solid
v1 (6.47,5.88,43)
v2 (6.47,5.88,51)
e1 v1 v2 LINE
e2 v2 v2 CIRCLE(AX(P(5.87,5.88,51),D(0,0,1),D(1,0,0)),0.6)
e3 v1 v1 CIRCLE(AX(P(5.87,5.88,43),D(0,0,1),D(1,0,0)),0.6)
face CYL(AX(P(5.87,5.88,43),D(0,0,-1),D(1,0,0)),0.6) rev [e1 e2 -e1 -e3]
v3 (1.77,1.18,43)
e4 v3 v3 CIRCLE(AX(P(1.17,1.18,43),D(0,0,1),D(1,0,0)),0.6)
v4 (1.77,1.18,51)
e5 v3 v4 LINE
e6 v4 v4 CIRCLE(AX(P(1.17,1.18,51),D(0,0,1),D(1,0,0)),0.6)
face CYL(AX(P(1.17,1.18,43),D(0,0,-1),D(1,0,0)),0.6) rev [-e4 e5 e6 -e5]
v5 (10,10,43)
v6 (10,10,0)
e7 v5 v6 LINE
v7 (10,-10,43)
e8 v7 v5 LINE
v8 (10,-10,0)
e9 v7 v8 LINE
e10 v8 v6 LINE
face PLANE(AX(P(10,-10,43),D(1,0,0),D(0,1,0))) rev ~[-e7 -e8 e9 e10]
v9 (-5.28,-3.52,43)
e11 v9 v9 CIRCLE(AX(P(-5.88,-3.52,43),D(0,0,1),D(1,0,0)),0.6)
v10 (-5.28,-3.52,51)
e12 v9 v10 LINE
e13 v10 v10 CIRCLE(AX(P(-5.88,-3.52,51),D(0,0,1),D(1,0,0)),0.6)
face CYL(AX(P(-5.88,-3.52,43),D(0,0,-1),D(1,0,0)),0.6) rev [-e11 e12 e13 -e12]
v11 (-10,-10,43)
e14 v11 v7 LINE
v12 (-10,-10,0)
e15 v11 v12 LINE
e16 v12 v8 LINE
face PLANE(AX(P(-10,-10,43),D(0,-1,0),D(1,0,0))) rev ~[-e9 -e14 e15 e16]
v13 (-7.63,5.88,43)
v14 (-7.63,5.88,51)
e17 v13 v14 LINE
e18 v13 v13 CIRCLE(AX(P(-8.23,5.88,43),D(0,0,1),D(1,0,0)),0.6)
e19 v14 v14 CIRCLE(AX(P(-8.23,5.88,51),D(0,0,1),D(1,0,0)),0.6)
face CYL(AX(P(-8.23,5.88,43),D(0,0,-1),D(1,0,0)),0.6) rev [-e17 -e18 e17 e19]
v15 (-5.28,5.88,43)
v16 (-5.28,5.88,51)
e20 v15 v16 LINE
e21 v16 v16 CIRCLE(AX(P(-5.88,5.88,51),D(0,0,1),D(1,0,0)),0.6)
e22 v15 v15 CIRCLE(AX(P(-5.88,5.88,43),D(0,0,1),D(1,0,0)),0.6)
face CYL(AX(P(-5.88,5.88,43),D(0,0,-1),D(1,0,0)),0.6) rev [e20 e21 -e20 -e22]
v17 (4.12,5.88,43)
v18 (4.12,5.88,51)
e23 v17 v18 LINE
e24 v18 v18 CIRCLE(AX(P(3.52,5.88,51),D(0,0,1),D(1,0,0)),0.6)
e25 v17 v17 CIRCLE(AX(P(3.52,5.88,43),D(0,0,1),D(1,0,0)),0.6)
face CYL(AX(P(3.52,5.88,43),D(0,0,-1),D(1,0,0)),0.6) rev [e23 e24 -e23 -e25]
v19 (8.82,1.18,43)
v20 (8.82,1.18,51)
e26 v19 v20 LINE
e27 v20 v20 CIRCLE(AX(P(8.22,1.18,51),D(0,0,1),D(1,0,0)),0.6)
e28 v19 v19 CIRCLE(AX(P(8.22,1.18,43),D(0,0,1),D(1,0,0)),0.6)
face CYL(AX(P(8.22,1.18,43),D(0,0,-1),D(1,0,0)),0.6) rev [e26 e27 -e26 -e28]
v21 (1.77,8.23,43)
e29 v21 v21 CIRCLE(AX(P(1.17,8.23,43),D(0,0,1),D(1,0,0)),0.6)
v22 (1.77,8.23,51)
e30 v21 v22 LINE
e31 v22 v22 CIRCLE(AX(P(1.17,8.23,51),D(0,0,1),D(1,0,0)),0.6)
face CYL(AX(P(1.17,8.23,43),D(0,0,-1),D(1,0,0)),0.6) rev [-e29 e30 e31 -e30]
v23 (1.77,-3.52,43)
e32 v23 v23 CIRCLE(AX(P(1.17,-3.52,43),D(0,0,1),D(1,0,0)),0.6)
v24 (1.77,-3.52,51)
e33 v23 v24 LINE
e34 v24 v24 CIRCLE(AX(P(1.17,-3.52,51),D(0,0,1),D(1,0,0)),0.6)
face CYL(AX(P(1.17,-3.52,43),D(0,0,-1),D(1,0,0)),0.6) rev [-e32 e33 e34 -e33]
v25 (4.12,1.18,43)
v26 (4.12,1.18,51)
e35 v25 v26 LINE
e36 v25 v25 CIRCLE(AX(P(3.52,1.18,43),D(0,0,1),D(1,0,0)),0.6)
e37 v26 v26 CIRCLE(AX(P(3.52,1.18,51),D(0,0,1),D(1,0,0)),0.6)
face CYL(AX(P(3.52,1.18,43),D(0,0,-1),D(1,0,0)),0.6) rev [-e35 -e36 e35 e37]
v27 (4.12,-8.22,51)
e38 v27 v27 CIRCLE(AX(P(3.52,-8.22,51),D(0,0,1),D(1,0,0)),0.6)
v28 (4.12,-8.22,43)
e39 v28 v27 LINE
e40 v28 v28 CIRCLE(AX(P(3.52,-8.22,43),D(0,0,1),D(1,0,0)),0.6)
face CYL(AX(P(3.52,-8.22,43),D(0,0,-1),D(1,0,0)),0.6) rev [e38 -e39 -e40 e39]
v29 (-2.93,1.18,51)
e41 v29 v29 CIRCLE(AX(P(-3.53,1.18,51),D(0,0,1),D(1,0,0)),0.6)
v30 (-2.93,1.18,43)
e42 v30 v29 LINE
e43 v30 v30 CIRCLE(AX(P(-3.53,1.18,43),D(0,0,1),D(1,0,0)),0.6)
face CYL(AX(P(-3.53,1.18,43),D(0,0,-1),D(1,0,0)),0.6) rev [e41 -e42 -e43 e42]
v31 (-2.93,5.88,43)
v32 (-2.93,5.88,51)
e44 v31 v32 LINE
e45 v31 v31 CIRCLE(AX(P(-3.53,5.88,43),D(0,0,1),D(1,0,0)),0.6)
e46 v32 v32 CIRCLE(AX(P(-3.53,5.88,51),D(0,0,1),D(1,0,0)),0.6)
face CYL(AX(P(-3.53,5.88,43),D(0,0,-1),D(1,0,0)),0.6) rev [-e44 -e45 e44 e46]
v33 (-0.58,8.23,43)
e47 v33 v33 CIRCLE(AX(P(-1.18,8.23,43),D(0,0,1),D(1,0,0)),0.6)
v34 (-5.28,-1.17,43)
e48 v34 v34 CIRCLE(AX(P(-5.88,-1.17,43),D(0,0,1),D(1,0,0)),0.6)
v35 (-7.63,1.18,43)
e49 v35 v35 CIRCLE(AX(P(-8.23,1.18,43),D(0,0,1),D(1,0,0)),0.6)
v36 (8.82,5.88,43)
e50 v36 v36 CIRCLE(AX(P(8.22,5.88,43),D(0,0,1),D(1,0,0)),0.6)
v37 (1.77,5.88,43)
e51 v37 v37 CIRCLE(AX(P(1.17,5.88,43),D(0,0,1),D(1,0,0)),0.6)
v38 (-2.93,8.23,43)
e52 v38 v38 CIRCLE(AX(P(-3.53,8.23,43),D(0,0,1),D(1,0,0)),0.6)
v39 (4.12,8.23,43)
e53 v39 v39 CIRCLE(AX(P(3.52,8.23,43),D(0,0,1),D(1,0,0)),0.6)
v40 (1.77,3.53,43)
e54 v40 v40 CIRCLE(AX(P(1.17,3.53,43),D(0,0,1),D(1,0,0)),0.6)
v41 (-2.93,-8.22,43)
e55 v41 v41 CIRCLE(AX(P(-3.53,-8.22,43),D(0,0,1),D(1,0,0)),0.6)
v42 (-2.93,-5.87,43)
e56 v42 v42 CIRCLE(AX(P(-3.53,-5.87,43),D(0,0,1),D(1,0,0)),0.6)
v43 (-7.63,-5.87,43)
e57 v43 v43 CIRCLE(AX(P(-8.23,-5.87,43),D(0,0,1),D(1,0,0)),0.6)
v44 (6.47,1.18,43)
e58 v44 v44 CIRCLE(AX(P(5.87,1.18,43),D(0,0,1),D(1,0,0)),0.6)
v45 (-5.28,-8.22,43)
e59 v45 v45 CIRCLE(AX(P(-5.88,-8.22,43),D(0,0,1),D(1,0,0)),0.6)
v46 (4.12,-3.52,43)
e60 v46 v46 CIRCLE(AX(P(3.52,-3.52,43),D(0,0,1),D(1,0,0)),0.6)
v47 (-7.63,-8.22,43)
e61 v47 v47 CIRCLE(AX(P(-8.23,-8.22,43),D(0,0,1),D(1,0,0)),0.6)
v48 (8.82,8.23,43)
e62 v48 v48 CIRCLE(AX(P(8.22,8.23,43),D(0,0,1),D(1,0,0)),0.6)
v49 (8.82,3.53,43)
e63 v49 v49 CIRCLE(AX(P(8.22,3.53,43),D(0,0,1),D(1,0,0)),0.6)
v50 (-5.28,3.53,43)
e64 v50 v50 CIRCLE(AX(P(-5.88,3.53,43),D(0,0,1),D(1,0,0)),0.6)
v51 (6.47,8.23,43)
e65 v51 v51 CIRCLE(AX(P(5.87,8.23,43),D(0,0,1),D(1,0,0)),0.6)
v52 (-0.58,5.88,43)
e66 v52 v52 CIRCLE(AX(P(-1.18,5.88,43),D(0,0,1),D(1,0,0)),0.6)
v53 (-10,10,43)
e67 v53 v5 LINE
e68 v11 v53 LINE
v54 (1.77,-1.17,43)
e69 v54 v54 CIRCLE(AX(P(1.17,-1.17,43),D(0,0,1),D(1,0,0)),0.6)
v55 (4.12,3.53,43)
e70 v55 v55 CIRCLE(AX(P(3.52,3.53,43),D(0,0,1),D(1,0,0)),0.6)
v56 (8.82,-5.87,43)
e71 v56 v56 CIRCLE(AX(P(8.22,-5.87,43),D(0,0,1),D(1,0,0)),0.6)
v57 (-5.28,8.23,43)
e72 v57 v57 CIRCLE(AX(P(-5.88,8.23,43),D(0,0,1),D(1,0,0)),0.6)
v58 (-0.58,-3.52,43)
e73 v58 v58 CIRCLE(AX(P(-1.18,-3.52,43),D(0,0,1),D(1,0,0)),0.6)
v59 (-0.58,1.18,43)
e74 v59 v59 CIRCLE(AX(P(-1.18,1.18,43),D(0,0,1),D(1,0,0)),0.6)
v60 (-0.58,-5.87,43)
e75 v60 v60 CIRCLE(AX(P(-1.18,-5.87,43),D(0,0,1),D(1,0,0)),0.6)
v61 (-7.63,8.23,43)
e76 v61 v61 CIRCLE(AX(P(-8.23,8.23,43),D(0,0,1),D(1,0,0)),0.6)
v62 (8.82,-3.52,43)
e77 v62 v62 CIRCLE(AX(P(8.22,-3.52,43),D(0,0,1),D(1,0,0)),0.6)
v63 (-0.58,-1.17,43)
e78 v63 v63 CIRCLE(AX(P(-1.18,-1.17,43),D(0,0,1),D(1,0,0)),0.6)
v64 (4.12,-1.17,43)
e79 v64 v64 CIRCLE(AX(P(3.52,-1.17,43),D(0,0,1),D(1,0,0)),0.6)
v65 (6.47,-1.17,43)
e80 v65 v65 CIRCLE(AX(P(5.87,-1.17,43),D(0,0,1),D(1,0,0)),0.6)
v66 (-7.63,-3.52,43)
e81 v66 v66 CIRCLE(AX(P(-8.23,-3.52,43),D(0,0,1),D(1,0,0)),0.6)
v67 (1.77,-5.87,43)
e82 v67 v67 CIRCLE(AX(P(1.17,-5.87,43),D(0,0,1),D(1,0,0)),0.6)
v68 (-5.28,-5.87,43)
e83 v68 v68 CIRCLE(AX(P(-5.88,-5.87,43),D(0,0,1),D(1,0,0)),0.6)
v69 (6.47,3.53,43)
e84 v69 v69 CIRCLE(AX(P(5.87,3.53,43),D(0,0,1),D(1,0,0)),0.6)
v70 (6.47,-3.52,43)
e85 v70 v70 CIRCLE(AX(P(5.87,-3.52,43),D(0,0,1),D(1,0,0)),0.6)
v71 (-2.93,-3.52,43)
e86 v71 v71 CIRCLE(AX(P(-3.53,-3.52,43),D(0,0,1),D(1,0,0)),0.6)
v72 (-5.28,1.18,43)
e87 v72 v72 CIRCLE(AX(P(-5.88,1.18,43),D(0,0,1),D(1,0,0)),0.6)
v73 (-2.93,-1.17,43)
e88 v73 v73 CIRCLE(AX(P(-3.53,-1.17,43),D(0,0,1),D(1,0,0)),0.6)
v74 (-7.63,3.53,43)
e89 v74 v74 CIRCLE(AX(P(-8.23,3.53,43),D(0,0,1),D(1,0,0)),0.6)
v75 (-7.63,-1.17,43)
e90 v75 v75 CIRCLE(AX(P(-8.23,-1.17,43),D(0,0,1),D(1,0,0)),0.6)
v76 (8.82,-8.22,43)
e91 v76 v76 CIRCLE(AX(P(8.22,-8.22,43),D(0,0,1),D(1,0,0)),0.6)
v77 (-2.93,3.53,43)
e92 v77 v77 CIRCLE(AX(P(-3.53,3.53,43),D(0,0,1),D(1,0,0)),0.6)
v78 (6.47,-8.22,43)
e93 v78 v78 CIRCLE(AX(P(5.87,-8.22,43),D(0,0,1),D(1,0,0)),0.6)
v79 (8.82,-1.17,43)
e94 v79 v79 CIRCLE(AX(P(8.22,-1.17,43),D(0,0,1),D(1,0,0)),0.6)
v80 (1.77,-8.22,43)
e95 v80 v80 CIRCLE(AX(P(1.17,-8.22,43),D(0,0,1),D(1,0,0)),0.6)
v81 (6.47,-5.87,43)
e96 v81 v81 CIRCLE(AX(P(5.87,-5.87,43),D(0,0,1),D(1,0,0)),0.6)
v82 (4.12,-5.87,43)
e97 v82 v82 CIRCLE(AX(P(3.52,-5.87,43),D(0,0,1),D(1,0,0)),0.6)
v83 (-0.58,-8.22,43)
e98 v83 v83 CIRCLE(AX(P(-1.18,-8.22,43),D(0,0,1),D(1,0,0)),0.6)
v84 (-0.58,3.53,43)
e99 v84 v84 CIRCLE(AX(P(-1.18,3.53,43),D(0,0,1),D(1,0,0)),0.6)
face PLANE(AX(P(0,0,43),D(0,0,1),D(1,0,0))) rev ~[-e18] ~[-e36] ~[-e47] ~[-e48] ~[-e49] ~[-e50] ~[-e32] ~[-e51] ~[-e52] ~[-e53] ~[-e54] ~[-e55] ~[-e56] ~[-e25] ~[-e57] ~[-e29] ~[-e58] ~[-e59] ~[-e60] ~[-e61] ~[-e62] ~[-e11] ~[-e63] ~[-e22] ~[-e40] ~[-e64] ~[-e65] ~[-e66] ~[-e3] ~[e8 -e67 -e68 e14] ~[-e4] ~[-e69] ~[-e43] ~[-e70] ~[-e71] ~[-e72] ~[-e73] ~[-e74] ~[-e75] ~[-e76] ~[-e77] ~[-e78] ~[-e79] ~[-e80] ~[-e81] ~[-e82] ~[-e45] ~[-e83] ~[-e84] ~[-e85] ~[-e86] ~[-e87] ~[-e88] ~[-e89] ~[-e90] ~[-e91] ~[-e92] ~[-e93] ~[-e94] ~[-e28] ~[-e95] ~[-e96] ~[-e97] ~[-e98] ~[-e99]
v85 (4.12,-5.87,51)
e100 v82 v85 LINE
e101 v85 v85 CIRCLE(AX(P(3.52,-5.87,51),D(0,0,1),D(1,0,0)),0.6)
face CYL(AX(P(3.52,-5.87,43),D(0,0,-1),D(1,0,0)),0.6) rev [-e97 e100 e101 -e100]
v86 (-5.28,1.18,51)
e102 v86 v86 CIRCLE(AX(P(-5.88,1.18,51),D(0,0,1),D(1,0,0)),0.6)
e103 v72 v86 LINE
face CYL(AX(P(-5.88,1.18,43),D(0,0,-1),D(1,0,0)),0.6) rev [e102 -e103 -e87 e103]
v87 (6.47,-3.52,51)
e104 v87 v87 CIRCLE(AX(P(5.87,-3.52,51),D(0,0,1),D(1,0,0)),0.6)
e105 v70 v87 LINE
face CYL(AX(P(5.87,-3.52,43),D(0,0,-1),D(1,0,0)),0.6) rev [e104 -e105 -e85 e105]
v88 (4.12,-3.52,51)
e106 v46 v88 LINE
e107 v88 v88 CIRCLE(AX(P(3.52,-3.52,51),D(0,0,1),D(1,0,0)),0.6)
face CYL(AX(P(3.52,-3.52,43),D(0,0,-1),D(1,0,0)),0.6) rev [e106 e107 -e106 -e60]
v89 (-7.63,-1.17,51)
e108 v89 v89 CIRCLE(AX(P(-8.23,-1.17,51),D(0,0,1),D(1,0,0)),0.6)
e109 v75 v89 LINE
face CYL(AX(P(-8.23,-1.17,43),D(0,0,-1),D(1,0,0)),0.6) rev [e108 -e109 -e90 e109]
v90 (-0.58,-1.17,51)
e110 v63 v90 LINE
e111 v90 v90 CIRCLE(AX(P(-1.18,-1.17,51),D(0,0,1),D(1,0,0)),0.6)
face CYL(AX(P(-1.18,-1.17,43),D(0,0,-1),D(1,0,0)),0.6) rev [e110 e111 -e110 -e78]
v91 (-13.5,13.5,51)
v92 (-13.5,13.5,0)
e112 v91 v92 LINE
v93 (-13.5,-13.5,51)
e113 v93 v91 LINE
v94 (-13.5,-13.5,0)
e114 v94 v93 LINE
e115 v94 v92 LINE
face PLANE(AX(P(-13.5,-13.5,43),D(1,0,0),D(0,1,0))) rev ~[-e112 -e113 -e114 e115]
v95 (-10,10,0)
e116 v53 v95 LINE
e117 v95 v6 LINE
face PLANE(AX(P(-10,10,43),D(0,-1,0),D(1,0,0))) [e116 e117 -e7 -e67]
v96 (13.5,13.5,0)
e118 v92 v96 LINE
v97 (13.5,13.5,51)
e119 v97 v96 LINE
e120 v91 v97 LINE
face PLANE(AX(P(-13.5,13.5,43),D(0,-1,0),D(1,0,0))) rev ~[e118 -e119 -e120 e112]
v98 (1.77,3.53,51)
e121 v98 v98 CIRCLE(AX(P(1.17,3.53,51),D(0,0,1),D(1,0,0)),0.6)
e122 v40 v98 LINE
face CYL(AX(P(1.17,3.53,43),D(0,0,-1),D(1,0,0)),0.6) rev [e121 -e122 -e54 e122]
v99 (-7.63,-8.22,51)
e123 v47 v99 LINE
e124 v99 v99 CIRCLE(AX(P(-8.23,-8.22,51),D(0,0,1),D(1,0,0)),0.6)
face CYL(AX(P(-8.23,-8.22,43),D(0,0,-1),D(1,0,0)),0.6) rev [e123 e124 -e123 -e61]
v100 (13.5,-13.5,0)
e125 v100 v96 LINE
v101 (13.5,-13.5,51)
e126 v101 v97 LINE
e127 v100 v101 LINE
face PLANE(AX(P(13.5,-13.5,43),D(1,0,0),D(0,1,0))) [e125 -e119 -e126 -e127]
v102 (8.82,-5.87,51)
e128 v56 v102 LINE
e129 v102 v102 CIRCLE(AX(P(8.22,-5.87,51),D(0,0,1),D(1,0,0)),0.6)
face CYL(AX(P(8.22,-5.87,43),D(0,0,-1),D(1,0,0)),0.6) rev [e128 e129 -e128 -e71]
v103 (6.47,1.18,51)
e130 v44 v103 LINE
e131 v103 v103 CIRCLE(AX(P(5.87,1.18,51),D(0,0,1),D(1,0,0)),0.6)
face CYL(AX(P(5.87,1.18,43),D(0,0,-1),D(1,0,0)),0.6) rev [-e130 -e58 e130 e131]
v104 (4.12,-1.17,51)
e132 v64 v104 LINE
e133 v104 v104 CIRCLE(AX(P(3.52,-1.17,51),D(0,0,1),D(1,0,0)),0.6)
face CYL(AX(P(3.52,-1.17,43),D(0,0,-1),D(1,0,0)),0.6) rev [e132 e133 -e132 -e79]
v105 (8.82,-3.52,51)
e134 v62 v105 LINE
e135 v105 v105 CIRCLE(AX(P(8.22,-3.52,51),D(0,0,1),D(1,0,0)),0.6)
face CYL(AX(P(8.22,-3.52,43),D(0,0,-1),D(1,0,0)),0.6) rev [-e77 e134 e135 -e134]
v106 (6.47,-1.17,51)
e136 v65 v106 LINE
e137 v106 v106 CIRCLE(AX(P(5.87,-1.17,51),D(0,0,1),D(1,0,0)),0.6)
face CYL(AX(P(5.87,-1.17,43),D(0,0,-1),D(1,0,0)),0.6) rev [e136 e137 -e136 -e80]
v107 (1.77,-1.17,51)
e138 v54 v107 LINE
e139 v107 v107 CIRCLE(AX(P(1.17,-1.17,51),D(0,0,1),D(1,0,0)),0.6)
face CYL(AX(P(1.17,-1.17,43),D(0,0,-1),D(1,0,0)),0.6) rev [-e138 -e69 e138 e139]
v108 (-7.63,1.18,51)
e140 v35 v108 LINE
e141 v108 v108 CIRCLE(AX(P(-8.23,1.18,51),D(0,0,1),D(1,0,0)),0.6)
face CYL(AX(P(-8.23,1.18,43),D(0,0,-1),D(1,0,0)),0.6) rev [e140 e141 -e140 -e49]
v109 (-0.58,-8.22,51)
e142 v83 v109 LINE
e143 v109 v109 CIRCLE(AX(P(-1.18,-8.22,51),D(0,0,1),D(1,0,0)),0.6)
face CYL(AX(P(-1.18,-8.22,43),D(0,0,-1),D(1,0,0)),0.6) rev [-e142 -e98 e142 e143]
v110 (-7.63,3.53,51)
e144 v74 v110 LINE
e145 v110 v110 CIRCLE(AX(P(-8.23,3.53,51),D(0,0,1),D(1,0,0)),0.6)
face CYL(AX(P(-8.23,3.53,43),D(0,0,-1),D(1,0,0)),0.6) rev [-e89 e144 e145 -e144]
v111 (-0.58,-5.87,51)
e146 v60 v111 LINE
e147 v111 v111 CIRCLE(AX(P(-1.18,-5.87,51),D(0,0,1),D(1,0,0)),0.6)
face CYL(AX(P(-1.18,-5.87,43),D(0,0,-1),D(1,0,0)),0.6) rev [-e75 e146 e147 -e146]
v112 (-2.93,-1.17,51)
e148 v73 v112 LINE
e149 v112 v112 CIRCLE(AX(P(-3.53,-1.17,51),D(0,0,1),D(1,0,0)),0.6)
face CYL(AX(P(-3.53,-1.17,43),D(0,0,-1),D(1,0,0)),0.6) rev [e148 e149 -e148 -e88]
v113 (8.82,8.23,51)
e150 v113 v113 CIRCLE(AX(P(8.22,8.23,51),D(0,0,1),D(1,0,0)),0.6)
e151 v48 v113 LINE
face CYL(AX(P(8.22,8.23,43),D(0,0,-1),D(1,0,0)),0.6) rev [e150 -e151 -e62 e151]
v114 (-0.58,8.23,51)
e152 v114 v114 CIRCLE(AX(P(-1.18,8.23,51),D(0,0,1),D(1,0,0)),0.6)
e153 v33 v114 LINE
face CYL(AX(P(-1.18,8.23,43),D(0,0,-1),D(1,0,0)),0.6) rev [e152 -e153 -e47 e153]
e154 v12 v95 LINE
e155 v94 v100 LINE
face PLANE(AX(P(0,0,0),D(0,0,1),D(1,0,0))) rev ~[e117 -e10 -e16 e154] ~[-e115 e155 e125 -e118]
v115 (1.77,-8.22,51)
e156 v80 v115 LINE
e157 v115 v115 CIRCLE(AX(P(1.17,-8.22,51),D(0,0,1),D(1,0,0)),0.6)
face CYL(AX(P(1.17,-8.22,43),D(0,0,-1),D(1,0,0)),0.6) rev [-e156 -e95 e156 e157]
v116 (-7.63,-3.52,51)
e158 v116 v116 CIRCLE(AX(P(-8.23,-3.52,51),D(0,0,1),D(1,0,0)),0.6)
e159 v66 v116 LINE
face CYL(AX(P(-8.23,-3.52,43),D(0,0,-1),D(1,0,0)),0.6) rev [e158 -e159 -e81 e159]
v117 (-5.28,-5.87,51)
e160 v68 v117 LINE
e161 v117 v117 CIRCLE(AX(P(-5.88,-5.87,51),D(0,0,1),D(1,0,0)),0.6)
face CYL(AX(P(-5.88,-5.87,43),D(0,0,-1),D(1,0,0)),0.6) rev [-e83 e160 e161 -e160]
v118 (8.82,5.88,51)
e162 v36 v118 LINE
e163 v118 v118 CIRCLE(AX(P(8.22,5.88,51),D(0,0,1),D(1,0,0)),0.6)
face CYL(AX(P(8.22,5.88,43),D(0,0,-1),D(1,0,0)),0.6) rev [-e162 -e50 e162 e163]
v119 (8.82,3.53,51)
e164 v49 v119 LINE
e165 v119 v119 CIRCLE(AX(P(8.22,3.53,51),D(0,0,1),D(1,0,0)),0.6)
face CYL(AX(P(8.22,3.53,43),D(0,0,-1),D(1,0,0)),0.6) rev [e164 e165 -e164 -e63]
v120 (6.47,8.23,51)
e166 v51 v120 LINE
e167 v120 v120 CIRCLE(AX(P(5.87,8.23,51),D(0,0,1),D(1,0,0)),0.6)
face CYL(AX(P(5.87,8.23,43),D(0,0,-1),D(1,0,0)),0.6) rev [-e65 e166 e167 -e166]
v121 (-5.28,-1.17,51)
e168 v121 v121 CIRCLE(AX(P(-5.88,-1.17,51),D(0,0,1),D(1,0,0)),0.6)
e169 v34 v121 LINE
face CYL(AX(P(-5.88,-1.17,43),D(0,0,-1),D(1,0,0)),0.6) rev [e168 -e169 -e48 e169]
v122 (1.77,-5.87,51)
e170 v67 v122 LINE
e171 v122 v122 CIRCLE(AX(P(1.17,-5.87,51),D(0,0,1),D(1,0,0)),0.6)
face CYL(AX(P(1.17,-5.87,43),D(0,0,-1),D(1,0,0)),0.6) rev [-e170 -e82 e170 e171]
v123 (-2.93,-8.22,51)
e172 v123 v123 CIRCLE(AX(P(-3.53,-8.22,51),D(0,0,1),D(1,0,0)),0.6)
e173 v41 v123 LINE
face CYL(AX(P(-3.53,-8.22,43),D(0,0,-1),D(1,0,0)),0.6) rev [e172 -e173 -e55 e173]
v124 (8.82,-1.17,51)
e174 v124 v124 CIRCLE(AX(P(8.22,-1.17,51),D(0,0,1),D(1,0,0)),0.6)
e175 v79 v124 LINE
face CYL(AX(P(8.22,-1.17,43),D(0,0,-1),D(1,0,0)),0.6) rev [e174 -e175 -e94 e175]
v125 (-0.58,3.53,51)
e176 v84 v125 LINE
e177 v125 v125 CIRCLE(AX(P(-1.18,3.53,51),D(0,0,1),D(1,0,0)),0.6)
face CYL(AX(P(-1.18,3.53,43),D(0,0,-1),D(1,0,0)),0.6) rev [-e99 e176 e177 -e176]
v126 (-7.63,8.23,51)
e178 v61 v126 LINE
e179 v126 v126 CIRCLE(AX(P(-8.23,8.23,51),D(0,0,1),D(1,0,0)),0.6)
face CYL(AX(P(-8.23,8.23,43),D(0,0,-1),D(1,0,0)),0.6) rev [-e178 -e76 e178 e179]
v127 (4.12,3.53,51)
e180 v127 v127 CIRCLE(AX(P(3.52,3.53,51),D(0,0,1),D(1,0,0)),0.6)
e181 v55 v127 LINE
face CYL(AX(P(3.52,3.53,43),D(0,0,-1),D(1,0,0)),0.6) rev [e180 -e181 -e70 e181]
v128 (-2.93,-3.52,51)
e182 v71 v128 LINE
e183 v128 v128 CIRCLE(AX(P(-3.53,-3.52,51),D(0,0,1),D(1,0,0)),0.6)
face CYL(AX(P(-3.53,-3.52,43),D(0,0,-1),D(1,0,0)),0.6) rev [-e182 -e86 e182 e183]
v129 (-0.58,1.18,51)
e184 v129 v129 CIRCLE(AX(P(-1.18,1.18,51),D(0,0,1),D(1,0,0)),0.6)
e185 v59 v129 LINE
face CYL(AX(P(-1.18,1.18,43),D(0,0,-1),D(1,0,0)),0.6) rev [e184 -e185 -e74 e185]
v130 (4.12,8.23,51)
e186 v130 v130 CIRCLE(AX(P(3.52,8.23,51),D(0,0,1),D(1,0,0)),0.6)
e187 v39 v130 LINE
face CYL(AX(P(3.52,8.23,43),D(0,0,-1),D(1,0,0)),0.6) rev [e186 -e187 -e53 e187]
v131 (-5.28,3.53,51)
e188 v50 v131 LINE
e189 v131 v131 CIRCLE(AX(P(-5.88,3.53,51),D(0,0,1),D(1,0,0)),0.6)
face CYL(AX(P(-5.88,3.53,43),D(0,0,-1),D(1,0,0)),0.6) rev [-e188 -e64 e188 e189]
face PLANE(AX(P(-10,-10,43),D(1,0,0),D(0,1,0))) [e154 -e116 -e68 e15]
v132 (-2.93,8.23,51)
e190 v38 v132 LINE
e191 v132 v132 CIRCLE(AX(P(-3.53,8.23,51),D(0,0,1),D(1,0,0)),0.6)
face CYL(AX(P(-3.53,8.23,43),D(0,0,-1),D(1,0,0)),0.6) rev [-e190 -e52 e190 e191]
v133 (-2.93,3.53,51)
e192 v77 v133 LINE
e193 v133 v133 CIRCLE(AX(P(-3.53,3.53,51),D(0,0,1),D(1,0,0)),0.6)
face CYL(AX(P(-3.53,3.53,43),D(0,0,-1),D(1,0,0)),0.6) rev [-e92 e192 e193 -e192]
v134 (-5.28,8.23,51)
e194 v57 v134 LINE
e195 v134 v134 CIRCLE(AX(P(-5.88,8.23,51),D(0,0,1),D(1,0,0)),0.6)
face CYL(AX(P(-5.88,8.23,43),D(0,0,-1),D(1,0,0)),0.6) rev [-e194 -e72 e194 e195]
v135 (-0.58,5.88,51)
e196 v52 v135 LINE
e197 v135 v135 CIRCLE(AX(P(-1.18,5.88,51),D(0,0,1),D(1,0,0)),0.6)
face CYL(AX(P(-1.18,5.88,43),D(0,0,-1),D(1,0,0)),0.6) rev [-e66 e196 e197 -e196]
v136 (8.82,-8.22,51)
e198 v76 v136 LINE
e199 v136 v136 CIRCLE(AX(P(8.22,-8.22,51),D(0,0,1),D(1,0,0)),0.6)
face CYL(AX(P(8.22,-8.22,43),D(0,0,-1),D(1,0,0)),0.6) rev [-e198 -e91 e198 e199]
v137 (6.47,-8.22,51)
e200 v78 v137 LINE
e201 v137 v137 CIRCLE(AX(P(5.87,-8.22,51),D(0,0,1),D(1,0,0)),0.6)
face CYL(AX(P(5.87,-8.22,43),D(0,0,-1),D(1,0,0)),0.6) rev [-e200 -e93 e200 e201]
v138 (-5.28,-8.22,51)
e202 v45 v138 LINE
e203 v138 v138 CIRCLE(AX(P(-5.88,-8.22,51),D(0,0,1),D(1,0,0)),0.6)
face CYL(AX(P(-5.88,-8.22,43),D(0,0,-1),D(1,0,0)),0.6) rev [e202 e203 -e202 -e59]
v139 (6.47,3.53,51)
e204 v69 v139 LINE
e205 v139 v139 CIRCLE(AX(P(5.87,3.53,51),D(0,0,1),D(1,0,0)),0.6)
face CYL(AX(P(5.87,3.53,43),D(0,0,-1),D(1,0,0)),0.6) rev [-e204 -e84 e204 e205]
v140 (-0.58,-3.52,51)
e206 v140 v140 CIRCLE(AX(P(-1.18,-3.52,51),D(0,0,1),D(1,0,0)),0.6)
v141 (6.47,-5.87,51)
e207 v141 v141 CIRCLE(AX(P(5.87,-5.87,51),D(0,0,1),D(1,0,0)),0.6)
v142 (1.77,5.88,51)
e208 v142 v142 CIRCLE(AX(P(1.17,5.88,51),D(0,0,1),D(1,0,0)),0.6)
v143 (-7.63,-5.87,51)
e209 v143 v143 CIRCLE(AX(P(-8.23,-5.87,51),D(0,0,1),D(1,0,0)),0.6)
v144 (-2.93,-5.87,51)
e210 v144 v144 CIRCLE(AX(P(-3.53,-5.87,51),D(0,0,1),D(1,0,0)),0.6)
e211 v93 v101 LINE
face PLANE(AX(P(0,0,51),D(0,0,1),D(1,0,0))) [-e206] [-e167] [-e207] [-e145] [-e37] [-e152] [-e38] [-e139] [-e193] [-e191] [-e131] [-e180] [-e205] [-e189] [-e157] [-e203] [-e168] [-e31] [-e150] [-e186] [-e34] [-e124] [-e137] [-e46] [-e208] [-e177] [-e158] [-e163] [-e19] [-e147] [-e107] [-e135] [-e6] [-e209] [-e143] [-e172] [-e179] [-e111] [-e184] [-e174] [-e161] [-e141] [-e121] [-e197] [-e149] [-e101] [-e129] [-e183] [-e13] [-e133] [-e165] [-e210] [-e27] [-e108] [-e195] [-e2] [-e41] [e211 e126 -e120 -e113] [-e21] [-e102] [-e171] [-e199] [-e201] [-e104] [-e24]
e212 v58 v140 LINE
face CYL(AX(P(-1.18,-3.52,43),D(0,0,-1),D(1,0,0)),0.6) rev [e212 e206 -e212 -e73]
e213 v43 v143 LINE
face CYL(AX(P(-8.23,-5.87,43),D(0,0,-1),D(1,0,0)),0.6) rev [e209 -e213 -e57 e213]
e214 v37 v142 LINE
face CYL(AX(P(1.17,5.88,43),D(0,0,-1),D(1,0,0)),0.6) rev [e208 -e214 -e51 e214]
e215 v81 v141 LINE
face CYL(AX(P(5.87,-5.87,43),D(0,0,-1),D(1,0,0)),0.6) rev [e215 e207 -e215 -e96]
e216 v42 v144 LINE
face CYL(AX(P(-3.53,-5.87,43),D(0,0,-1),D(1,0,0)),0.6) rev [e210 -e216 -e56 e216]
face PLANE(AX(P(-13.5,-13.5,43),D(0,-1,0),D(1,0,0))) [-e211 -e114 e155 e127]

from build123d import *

# Parameters (mm, degrees)
SKETCH2_W           = 27
SKETCH2_H           = 27
BOSS_EXTRUDE1_DEPTH = 8
SKETCH5_R           = 0.6
CUT_EXTRUDE2_DEPTH  = 8
SKETCH2_6_W         = 27
SKETCH2_6_H         = 27
SKETCH2_6_W_2       = 20
SKETCH2_6_H_2       = 20
BOSS_EXTRUDE2_DEPTH = 43


with BuildPart() as part:
    # Sketch2 → Boss-Extrude1 (new body)
    with BuildSketch(Plane.XY.offset(43)):
        Rectangle(SKETCH2_W, SKETCH2_H)
    extrude(amount=BOSS_EXTRUDE1_DEPTH)

    # Sketch5 → Cut-Extrude2 (cut)
    with BuildSketch(Plane.XY.offset(43)):
        with Locations((-8.23, 8.23)):
            Circle(SKETCH5_R)
        with Locations((-5.88, 8.23)):
            Circle(SKETCH5_R)
        with Locations((-3.53, 8.23)):
            Circle(SKETCH5_R)
        with Locations((-1.18, 8.23)):
            Circle(SKETCH5_R)
        with Locations((1.17, 8.23)):
            Circle(SKETCH5_R)
        with Locations((3.52, 8.23)):
            Circle(SKETCH5_R)
        with Locations((5.87, 8.23)):
            Circle(SKETCH5_R)
        with Locations((8.22, 8.23)):
            Circle(SKETCH5_R)
        with Locations((-5.88, 5.88)):
            Circle(SKETCH5_R)
        with Locations((-3.53, 5.88)):
            Circle(SKETCH5_R)
        with Locations((-1.18, 5.88)):
            Circle(SKETCH5_R)
        with Locations((1.17, 5.88)):
            Circle(SKETCH5_R)
        with Locations((3.52, 5.88)):
            Circle(SKETCH5_R)
        with Locations((5.87, 5.88)):
            Circle(SKETCH5_R)
        with Locations((8.22, 5.88)):
            Circle(SKETCH5_R)
        with Locations((-5.88, 3.53)):
            Circle(SKETCH5_R)
        with Locations((-3.53, 3.53)):
            Circle(SKETCH5_R)
        with Locations((-1.18, 3.53)):
            Circle(SKETCH5_R)
        with Locations((1.17, 3.53)):
            Circle(SKETCH5_R)
        with Locations((3.52, 3.53)):
            Circle(SKETCH5_R)
        with Locations((5.87, 3.53)):
            Circle(SKETCH5_R)
        with Locations((8.22, 3.53)):
            Circle(SKETCH5_R)
        with Locations((-5.88, 1.18)):
            Circle(SKETCH5_R)
        with Locations((-3.53, 1.18)):
            Circle(SKETCH5_R)
        with Locations((-1.18, 1.18)):
            Circle(SKETCH5_R)
        with Locations((1.17, 1.18)):
            Circle(SKETCH5_R)
        with Locations((3.52, 1.18)):
            Circle(SKETCH5_R)
        with Locations((5.87, 1.18)):
            Circle(SKETCH5_R)
        with Locations((8.22, 1.18)):
            Circle(SKETCH5_R)
        with Locations((-5.88, -1.17)):
            Circle(SKETCH5_R)
        with Locations((-3.53, -1.17)):
            Circle(SKETCH5_R)
        with Locations((-1.18, -1.17)):
            Circle(SKETCH5_R)
        with Locations((1.17, -1.17)):
            Circle(SKETCH5_R)
        with Locations((3.52, -1.17)):
            Circle(SKETCH5_R)
        with Locations((5.87, -1.17)):
            Circle(SKETCH5_R)
        with Locations((8.22, -1.17)):
            Circle(SKETCH5_R)
        with Locations((-5.88, -3.52)):
            Circle(SKETCH5_R)
        with Locations((-3.53, -3.52)):
            Circle(SKETCH5_R)
        with Locations((-1.18, -3.52)):
            Circle(SKETCH5_R)
        with Locations((1.17, -3.52)):
            Circle(SKETCH5_R)
        with Locations((3.52, -3.52)):
            Circle(SKETCH5_R)
        with Locations((5.87, -3.52)):
            Circle(SKETCH5_R)
        with Locations((8.22, -3.52)):
            Circle(SKETCH5_R)
        with Locations((-5.88, -5.87)):
            Circle(SKETCH5_R)
        with Locations((-3.53, -5.87)):
            Circle(SKETCH5_R)
        with Locations((-1.18, -5.87)):
            Circle(SKETCH5_R)
        with Locations((1.17, -5.87)):
            Circle(SKETCH5_R)
        with Locations((3.52, -5.87)):
            Circle(SKETCH5_R)
        with Locations((5.87, -5.87)):
            Circle(SKETCH5_R)
        with Locations((8.22, -5.87)):
            Circle(SKETCH5_R)
        with Locations((-5.88, -8.22)):
            Circle(SKETCH5_R)
        with Locations((-3.53, -8.22)):
            Circle(SKETCH5_R)
        with Locations((-1.18, -8.22)):
            Circle(SKETCH5_R)
        with Locations((1.17, -8.22)):
            Circle(SKETCH5_R)
        with Locations((3.52, -8.22)):
            Circle(SKETCH5_R)
        with Locations((5.87, -8.22)):
            Circle(SKETCH5_R)
        with Locations((8.22, -8.22)):
            Circle(SKETCH5_R)
        with Locations((-8.23, 5.88)):
            Circle(SKETCH5_R)
        with Locations((-8.23, 3.53)):
            Circle(SKETCH5_R)
        with Locations((-8.23, 1.18)):
            Circle(SKETCH5_R)
        with Locations((-8.23, -1.17)):
            Circle(SKETCH5_R)
        with Locations((-8.23, -3.52)):
            Circle(SKETCH5_R)
        with Locations((-8.23, -5.87)):
            Circle(SKETCH5_R)
        with Locations((-8.23, -8.22)):
            Circle(SKETCH5_R)
    extrude(amount=CUT_EXTRUDE2_DEPTH, mode=Mode.SUBTRACT)

    # Sketch2<6> → Boss-Extrude2 (add)
    with BuildSketch(Plane.XY.offset(43)):
        Rectangle(SKETCH2_6_W, SKETCH2_6_H)
        Rectangle(SKETCH2_6_W_2, SKETCH2_6_H_2, mode=Mode.SUBTRACT)
    extrude(amount=-BOSS_EXTRUDE2_DEPTH)


solid = part.part
